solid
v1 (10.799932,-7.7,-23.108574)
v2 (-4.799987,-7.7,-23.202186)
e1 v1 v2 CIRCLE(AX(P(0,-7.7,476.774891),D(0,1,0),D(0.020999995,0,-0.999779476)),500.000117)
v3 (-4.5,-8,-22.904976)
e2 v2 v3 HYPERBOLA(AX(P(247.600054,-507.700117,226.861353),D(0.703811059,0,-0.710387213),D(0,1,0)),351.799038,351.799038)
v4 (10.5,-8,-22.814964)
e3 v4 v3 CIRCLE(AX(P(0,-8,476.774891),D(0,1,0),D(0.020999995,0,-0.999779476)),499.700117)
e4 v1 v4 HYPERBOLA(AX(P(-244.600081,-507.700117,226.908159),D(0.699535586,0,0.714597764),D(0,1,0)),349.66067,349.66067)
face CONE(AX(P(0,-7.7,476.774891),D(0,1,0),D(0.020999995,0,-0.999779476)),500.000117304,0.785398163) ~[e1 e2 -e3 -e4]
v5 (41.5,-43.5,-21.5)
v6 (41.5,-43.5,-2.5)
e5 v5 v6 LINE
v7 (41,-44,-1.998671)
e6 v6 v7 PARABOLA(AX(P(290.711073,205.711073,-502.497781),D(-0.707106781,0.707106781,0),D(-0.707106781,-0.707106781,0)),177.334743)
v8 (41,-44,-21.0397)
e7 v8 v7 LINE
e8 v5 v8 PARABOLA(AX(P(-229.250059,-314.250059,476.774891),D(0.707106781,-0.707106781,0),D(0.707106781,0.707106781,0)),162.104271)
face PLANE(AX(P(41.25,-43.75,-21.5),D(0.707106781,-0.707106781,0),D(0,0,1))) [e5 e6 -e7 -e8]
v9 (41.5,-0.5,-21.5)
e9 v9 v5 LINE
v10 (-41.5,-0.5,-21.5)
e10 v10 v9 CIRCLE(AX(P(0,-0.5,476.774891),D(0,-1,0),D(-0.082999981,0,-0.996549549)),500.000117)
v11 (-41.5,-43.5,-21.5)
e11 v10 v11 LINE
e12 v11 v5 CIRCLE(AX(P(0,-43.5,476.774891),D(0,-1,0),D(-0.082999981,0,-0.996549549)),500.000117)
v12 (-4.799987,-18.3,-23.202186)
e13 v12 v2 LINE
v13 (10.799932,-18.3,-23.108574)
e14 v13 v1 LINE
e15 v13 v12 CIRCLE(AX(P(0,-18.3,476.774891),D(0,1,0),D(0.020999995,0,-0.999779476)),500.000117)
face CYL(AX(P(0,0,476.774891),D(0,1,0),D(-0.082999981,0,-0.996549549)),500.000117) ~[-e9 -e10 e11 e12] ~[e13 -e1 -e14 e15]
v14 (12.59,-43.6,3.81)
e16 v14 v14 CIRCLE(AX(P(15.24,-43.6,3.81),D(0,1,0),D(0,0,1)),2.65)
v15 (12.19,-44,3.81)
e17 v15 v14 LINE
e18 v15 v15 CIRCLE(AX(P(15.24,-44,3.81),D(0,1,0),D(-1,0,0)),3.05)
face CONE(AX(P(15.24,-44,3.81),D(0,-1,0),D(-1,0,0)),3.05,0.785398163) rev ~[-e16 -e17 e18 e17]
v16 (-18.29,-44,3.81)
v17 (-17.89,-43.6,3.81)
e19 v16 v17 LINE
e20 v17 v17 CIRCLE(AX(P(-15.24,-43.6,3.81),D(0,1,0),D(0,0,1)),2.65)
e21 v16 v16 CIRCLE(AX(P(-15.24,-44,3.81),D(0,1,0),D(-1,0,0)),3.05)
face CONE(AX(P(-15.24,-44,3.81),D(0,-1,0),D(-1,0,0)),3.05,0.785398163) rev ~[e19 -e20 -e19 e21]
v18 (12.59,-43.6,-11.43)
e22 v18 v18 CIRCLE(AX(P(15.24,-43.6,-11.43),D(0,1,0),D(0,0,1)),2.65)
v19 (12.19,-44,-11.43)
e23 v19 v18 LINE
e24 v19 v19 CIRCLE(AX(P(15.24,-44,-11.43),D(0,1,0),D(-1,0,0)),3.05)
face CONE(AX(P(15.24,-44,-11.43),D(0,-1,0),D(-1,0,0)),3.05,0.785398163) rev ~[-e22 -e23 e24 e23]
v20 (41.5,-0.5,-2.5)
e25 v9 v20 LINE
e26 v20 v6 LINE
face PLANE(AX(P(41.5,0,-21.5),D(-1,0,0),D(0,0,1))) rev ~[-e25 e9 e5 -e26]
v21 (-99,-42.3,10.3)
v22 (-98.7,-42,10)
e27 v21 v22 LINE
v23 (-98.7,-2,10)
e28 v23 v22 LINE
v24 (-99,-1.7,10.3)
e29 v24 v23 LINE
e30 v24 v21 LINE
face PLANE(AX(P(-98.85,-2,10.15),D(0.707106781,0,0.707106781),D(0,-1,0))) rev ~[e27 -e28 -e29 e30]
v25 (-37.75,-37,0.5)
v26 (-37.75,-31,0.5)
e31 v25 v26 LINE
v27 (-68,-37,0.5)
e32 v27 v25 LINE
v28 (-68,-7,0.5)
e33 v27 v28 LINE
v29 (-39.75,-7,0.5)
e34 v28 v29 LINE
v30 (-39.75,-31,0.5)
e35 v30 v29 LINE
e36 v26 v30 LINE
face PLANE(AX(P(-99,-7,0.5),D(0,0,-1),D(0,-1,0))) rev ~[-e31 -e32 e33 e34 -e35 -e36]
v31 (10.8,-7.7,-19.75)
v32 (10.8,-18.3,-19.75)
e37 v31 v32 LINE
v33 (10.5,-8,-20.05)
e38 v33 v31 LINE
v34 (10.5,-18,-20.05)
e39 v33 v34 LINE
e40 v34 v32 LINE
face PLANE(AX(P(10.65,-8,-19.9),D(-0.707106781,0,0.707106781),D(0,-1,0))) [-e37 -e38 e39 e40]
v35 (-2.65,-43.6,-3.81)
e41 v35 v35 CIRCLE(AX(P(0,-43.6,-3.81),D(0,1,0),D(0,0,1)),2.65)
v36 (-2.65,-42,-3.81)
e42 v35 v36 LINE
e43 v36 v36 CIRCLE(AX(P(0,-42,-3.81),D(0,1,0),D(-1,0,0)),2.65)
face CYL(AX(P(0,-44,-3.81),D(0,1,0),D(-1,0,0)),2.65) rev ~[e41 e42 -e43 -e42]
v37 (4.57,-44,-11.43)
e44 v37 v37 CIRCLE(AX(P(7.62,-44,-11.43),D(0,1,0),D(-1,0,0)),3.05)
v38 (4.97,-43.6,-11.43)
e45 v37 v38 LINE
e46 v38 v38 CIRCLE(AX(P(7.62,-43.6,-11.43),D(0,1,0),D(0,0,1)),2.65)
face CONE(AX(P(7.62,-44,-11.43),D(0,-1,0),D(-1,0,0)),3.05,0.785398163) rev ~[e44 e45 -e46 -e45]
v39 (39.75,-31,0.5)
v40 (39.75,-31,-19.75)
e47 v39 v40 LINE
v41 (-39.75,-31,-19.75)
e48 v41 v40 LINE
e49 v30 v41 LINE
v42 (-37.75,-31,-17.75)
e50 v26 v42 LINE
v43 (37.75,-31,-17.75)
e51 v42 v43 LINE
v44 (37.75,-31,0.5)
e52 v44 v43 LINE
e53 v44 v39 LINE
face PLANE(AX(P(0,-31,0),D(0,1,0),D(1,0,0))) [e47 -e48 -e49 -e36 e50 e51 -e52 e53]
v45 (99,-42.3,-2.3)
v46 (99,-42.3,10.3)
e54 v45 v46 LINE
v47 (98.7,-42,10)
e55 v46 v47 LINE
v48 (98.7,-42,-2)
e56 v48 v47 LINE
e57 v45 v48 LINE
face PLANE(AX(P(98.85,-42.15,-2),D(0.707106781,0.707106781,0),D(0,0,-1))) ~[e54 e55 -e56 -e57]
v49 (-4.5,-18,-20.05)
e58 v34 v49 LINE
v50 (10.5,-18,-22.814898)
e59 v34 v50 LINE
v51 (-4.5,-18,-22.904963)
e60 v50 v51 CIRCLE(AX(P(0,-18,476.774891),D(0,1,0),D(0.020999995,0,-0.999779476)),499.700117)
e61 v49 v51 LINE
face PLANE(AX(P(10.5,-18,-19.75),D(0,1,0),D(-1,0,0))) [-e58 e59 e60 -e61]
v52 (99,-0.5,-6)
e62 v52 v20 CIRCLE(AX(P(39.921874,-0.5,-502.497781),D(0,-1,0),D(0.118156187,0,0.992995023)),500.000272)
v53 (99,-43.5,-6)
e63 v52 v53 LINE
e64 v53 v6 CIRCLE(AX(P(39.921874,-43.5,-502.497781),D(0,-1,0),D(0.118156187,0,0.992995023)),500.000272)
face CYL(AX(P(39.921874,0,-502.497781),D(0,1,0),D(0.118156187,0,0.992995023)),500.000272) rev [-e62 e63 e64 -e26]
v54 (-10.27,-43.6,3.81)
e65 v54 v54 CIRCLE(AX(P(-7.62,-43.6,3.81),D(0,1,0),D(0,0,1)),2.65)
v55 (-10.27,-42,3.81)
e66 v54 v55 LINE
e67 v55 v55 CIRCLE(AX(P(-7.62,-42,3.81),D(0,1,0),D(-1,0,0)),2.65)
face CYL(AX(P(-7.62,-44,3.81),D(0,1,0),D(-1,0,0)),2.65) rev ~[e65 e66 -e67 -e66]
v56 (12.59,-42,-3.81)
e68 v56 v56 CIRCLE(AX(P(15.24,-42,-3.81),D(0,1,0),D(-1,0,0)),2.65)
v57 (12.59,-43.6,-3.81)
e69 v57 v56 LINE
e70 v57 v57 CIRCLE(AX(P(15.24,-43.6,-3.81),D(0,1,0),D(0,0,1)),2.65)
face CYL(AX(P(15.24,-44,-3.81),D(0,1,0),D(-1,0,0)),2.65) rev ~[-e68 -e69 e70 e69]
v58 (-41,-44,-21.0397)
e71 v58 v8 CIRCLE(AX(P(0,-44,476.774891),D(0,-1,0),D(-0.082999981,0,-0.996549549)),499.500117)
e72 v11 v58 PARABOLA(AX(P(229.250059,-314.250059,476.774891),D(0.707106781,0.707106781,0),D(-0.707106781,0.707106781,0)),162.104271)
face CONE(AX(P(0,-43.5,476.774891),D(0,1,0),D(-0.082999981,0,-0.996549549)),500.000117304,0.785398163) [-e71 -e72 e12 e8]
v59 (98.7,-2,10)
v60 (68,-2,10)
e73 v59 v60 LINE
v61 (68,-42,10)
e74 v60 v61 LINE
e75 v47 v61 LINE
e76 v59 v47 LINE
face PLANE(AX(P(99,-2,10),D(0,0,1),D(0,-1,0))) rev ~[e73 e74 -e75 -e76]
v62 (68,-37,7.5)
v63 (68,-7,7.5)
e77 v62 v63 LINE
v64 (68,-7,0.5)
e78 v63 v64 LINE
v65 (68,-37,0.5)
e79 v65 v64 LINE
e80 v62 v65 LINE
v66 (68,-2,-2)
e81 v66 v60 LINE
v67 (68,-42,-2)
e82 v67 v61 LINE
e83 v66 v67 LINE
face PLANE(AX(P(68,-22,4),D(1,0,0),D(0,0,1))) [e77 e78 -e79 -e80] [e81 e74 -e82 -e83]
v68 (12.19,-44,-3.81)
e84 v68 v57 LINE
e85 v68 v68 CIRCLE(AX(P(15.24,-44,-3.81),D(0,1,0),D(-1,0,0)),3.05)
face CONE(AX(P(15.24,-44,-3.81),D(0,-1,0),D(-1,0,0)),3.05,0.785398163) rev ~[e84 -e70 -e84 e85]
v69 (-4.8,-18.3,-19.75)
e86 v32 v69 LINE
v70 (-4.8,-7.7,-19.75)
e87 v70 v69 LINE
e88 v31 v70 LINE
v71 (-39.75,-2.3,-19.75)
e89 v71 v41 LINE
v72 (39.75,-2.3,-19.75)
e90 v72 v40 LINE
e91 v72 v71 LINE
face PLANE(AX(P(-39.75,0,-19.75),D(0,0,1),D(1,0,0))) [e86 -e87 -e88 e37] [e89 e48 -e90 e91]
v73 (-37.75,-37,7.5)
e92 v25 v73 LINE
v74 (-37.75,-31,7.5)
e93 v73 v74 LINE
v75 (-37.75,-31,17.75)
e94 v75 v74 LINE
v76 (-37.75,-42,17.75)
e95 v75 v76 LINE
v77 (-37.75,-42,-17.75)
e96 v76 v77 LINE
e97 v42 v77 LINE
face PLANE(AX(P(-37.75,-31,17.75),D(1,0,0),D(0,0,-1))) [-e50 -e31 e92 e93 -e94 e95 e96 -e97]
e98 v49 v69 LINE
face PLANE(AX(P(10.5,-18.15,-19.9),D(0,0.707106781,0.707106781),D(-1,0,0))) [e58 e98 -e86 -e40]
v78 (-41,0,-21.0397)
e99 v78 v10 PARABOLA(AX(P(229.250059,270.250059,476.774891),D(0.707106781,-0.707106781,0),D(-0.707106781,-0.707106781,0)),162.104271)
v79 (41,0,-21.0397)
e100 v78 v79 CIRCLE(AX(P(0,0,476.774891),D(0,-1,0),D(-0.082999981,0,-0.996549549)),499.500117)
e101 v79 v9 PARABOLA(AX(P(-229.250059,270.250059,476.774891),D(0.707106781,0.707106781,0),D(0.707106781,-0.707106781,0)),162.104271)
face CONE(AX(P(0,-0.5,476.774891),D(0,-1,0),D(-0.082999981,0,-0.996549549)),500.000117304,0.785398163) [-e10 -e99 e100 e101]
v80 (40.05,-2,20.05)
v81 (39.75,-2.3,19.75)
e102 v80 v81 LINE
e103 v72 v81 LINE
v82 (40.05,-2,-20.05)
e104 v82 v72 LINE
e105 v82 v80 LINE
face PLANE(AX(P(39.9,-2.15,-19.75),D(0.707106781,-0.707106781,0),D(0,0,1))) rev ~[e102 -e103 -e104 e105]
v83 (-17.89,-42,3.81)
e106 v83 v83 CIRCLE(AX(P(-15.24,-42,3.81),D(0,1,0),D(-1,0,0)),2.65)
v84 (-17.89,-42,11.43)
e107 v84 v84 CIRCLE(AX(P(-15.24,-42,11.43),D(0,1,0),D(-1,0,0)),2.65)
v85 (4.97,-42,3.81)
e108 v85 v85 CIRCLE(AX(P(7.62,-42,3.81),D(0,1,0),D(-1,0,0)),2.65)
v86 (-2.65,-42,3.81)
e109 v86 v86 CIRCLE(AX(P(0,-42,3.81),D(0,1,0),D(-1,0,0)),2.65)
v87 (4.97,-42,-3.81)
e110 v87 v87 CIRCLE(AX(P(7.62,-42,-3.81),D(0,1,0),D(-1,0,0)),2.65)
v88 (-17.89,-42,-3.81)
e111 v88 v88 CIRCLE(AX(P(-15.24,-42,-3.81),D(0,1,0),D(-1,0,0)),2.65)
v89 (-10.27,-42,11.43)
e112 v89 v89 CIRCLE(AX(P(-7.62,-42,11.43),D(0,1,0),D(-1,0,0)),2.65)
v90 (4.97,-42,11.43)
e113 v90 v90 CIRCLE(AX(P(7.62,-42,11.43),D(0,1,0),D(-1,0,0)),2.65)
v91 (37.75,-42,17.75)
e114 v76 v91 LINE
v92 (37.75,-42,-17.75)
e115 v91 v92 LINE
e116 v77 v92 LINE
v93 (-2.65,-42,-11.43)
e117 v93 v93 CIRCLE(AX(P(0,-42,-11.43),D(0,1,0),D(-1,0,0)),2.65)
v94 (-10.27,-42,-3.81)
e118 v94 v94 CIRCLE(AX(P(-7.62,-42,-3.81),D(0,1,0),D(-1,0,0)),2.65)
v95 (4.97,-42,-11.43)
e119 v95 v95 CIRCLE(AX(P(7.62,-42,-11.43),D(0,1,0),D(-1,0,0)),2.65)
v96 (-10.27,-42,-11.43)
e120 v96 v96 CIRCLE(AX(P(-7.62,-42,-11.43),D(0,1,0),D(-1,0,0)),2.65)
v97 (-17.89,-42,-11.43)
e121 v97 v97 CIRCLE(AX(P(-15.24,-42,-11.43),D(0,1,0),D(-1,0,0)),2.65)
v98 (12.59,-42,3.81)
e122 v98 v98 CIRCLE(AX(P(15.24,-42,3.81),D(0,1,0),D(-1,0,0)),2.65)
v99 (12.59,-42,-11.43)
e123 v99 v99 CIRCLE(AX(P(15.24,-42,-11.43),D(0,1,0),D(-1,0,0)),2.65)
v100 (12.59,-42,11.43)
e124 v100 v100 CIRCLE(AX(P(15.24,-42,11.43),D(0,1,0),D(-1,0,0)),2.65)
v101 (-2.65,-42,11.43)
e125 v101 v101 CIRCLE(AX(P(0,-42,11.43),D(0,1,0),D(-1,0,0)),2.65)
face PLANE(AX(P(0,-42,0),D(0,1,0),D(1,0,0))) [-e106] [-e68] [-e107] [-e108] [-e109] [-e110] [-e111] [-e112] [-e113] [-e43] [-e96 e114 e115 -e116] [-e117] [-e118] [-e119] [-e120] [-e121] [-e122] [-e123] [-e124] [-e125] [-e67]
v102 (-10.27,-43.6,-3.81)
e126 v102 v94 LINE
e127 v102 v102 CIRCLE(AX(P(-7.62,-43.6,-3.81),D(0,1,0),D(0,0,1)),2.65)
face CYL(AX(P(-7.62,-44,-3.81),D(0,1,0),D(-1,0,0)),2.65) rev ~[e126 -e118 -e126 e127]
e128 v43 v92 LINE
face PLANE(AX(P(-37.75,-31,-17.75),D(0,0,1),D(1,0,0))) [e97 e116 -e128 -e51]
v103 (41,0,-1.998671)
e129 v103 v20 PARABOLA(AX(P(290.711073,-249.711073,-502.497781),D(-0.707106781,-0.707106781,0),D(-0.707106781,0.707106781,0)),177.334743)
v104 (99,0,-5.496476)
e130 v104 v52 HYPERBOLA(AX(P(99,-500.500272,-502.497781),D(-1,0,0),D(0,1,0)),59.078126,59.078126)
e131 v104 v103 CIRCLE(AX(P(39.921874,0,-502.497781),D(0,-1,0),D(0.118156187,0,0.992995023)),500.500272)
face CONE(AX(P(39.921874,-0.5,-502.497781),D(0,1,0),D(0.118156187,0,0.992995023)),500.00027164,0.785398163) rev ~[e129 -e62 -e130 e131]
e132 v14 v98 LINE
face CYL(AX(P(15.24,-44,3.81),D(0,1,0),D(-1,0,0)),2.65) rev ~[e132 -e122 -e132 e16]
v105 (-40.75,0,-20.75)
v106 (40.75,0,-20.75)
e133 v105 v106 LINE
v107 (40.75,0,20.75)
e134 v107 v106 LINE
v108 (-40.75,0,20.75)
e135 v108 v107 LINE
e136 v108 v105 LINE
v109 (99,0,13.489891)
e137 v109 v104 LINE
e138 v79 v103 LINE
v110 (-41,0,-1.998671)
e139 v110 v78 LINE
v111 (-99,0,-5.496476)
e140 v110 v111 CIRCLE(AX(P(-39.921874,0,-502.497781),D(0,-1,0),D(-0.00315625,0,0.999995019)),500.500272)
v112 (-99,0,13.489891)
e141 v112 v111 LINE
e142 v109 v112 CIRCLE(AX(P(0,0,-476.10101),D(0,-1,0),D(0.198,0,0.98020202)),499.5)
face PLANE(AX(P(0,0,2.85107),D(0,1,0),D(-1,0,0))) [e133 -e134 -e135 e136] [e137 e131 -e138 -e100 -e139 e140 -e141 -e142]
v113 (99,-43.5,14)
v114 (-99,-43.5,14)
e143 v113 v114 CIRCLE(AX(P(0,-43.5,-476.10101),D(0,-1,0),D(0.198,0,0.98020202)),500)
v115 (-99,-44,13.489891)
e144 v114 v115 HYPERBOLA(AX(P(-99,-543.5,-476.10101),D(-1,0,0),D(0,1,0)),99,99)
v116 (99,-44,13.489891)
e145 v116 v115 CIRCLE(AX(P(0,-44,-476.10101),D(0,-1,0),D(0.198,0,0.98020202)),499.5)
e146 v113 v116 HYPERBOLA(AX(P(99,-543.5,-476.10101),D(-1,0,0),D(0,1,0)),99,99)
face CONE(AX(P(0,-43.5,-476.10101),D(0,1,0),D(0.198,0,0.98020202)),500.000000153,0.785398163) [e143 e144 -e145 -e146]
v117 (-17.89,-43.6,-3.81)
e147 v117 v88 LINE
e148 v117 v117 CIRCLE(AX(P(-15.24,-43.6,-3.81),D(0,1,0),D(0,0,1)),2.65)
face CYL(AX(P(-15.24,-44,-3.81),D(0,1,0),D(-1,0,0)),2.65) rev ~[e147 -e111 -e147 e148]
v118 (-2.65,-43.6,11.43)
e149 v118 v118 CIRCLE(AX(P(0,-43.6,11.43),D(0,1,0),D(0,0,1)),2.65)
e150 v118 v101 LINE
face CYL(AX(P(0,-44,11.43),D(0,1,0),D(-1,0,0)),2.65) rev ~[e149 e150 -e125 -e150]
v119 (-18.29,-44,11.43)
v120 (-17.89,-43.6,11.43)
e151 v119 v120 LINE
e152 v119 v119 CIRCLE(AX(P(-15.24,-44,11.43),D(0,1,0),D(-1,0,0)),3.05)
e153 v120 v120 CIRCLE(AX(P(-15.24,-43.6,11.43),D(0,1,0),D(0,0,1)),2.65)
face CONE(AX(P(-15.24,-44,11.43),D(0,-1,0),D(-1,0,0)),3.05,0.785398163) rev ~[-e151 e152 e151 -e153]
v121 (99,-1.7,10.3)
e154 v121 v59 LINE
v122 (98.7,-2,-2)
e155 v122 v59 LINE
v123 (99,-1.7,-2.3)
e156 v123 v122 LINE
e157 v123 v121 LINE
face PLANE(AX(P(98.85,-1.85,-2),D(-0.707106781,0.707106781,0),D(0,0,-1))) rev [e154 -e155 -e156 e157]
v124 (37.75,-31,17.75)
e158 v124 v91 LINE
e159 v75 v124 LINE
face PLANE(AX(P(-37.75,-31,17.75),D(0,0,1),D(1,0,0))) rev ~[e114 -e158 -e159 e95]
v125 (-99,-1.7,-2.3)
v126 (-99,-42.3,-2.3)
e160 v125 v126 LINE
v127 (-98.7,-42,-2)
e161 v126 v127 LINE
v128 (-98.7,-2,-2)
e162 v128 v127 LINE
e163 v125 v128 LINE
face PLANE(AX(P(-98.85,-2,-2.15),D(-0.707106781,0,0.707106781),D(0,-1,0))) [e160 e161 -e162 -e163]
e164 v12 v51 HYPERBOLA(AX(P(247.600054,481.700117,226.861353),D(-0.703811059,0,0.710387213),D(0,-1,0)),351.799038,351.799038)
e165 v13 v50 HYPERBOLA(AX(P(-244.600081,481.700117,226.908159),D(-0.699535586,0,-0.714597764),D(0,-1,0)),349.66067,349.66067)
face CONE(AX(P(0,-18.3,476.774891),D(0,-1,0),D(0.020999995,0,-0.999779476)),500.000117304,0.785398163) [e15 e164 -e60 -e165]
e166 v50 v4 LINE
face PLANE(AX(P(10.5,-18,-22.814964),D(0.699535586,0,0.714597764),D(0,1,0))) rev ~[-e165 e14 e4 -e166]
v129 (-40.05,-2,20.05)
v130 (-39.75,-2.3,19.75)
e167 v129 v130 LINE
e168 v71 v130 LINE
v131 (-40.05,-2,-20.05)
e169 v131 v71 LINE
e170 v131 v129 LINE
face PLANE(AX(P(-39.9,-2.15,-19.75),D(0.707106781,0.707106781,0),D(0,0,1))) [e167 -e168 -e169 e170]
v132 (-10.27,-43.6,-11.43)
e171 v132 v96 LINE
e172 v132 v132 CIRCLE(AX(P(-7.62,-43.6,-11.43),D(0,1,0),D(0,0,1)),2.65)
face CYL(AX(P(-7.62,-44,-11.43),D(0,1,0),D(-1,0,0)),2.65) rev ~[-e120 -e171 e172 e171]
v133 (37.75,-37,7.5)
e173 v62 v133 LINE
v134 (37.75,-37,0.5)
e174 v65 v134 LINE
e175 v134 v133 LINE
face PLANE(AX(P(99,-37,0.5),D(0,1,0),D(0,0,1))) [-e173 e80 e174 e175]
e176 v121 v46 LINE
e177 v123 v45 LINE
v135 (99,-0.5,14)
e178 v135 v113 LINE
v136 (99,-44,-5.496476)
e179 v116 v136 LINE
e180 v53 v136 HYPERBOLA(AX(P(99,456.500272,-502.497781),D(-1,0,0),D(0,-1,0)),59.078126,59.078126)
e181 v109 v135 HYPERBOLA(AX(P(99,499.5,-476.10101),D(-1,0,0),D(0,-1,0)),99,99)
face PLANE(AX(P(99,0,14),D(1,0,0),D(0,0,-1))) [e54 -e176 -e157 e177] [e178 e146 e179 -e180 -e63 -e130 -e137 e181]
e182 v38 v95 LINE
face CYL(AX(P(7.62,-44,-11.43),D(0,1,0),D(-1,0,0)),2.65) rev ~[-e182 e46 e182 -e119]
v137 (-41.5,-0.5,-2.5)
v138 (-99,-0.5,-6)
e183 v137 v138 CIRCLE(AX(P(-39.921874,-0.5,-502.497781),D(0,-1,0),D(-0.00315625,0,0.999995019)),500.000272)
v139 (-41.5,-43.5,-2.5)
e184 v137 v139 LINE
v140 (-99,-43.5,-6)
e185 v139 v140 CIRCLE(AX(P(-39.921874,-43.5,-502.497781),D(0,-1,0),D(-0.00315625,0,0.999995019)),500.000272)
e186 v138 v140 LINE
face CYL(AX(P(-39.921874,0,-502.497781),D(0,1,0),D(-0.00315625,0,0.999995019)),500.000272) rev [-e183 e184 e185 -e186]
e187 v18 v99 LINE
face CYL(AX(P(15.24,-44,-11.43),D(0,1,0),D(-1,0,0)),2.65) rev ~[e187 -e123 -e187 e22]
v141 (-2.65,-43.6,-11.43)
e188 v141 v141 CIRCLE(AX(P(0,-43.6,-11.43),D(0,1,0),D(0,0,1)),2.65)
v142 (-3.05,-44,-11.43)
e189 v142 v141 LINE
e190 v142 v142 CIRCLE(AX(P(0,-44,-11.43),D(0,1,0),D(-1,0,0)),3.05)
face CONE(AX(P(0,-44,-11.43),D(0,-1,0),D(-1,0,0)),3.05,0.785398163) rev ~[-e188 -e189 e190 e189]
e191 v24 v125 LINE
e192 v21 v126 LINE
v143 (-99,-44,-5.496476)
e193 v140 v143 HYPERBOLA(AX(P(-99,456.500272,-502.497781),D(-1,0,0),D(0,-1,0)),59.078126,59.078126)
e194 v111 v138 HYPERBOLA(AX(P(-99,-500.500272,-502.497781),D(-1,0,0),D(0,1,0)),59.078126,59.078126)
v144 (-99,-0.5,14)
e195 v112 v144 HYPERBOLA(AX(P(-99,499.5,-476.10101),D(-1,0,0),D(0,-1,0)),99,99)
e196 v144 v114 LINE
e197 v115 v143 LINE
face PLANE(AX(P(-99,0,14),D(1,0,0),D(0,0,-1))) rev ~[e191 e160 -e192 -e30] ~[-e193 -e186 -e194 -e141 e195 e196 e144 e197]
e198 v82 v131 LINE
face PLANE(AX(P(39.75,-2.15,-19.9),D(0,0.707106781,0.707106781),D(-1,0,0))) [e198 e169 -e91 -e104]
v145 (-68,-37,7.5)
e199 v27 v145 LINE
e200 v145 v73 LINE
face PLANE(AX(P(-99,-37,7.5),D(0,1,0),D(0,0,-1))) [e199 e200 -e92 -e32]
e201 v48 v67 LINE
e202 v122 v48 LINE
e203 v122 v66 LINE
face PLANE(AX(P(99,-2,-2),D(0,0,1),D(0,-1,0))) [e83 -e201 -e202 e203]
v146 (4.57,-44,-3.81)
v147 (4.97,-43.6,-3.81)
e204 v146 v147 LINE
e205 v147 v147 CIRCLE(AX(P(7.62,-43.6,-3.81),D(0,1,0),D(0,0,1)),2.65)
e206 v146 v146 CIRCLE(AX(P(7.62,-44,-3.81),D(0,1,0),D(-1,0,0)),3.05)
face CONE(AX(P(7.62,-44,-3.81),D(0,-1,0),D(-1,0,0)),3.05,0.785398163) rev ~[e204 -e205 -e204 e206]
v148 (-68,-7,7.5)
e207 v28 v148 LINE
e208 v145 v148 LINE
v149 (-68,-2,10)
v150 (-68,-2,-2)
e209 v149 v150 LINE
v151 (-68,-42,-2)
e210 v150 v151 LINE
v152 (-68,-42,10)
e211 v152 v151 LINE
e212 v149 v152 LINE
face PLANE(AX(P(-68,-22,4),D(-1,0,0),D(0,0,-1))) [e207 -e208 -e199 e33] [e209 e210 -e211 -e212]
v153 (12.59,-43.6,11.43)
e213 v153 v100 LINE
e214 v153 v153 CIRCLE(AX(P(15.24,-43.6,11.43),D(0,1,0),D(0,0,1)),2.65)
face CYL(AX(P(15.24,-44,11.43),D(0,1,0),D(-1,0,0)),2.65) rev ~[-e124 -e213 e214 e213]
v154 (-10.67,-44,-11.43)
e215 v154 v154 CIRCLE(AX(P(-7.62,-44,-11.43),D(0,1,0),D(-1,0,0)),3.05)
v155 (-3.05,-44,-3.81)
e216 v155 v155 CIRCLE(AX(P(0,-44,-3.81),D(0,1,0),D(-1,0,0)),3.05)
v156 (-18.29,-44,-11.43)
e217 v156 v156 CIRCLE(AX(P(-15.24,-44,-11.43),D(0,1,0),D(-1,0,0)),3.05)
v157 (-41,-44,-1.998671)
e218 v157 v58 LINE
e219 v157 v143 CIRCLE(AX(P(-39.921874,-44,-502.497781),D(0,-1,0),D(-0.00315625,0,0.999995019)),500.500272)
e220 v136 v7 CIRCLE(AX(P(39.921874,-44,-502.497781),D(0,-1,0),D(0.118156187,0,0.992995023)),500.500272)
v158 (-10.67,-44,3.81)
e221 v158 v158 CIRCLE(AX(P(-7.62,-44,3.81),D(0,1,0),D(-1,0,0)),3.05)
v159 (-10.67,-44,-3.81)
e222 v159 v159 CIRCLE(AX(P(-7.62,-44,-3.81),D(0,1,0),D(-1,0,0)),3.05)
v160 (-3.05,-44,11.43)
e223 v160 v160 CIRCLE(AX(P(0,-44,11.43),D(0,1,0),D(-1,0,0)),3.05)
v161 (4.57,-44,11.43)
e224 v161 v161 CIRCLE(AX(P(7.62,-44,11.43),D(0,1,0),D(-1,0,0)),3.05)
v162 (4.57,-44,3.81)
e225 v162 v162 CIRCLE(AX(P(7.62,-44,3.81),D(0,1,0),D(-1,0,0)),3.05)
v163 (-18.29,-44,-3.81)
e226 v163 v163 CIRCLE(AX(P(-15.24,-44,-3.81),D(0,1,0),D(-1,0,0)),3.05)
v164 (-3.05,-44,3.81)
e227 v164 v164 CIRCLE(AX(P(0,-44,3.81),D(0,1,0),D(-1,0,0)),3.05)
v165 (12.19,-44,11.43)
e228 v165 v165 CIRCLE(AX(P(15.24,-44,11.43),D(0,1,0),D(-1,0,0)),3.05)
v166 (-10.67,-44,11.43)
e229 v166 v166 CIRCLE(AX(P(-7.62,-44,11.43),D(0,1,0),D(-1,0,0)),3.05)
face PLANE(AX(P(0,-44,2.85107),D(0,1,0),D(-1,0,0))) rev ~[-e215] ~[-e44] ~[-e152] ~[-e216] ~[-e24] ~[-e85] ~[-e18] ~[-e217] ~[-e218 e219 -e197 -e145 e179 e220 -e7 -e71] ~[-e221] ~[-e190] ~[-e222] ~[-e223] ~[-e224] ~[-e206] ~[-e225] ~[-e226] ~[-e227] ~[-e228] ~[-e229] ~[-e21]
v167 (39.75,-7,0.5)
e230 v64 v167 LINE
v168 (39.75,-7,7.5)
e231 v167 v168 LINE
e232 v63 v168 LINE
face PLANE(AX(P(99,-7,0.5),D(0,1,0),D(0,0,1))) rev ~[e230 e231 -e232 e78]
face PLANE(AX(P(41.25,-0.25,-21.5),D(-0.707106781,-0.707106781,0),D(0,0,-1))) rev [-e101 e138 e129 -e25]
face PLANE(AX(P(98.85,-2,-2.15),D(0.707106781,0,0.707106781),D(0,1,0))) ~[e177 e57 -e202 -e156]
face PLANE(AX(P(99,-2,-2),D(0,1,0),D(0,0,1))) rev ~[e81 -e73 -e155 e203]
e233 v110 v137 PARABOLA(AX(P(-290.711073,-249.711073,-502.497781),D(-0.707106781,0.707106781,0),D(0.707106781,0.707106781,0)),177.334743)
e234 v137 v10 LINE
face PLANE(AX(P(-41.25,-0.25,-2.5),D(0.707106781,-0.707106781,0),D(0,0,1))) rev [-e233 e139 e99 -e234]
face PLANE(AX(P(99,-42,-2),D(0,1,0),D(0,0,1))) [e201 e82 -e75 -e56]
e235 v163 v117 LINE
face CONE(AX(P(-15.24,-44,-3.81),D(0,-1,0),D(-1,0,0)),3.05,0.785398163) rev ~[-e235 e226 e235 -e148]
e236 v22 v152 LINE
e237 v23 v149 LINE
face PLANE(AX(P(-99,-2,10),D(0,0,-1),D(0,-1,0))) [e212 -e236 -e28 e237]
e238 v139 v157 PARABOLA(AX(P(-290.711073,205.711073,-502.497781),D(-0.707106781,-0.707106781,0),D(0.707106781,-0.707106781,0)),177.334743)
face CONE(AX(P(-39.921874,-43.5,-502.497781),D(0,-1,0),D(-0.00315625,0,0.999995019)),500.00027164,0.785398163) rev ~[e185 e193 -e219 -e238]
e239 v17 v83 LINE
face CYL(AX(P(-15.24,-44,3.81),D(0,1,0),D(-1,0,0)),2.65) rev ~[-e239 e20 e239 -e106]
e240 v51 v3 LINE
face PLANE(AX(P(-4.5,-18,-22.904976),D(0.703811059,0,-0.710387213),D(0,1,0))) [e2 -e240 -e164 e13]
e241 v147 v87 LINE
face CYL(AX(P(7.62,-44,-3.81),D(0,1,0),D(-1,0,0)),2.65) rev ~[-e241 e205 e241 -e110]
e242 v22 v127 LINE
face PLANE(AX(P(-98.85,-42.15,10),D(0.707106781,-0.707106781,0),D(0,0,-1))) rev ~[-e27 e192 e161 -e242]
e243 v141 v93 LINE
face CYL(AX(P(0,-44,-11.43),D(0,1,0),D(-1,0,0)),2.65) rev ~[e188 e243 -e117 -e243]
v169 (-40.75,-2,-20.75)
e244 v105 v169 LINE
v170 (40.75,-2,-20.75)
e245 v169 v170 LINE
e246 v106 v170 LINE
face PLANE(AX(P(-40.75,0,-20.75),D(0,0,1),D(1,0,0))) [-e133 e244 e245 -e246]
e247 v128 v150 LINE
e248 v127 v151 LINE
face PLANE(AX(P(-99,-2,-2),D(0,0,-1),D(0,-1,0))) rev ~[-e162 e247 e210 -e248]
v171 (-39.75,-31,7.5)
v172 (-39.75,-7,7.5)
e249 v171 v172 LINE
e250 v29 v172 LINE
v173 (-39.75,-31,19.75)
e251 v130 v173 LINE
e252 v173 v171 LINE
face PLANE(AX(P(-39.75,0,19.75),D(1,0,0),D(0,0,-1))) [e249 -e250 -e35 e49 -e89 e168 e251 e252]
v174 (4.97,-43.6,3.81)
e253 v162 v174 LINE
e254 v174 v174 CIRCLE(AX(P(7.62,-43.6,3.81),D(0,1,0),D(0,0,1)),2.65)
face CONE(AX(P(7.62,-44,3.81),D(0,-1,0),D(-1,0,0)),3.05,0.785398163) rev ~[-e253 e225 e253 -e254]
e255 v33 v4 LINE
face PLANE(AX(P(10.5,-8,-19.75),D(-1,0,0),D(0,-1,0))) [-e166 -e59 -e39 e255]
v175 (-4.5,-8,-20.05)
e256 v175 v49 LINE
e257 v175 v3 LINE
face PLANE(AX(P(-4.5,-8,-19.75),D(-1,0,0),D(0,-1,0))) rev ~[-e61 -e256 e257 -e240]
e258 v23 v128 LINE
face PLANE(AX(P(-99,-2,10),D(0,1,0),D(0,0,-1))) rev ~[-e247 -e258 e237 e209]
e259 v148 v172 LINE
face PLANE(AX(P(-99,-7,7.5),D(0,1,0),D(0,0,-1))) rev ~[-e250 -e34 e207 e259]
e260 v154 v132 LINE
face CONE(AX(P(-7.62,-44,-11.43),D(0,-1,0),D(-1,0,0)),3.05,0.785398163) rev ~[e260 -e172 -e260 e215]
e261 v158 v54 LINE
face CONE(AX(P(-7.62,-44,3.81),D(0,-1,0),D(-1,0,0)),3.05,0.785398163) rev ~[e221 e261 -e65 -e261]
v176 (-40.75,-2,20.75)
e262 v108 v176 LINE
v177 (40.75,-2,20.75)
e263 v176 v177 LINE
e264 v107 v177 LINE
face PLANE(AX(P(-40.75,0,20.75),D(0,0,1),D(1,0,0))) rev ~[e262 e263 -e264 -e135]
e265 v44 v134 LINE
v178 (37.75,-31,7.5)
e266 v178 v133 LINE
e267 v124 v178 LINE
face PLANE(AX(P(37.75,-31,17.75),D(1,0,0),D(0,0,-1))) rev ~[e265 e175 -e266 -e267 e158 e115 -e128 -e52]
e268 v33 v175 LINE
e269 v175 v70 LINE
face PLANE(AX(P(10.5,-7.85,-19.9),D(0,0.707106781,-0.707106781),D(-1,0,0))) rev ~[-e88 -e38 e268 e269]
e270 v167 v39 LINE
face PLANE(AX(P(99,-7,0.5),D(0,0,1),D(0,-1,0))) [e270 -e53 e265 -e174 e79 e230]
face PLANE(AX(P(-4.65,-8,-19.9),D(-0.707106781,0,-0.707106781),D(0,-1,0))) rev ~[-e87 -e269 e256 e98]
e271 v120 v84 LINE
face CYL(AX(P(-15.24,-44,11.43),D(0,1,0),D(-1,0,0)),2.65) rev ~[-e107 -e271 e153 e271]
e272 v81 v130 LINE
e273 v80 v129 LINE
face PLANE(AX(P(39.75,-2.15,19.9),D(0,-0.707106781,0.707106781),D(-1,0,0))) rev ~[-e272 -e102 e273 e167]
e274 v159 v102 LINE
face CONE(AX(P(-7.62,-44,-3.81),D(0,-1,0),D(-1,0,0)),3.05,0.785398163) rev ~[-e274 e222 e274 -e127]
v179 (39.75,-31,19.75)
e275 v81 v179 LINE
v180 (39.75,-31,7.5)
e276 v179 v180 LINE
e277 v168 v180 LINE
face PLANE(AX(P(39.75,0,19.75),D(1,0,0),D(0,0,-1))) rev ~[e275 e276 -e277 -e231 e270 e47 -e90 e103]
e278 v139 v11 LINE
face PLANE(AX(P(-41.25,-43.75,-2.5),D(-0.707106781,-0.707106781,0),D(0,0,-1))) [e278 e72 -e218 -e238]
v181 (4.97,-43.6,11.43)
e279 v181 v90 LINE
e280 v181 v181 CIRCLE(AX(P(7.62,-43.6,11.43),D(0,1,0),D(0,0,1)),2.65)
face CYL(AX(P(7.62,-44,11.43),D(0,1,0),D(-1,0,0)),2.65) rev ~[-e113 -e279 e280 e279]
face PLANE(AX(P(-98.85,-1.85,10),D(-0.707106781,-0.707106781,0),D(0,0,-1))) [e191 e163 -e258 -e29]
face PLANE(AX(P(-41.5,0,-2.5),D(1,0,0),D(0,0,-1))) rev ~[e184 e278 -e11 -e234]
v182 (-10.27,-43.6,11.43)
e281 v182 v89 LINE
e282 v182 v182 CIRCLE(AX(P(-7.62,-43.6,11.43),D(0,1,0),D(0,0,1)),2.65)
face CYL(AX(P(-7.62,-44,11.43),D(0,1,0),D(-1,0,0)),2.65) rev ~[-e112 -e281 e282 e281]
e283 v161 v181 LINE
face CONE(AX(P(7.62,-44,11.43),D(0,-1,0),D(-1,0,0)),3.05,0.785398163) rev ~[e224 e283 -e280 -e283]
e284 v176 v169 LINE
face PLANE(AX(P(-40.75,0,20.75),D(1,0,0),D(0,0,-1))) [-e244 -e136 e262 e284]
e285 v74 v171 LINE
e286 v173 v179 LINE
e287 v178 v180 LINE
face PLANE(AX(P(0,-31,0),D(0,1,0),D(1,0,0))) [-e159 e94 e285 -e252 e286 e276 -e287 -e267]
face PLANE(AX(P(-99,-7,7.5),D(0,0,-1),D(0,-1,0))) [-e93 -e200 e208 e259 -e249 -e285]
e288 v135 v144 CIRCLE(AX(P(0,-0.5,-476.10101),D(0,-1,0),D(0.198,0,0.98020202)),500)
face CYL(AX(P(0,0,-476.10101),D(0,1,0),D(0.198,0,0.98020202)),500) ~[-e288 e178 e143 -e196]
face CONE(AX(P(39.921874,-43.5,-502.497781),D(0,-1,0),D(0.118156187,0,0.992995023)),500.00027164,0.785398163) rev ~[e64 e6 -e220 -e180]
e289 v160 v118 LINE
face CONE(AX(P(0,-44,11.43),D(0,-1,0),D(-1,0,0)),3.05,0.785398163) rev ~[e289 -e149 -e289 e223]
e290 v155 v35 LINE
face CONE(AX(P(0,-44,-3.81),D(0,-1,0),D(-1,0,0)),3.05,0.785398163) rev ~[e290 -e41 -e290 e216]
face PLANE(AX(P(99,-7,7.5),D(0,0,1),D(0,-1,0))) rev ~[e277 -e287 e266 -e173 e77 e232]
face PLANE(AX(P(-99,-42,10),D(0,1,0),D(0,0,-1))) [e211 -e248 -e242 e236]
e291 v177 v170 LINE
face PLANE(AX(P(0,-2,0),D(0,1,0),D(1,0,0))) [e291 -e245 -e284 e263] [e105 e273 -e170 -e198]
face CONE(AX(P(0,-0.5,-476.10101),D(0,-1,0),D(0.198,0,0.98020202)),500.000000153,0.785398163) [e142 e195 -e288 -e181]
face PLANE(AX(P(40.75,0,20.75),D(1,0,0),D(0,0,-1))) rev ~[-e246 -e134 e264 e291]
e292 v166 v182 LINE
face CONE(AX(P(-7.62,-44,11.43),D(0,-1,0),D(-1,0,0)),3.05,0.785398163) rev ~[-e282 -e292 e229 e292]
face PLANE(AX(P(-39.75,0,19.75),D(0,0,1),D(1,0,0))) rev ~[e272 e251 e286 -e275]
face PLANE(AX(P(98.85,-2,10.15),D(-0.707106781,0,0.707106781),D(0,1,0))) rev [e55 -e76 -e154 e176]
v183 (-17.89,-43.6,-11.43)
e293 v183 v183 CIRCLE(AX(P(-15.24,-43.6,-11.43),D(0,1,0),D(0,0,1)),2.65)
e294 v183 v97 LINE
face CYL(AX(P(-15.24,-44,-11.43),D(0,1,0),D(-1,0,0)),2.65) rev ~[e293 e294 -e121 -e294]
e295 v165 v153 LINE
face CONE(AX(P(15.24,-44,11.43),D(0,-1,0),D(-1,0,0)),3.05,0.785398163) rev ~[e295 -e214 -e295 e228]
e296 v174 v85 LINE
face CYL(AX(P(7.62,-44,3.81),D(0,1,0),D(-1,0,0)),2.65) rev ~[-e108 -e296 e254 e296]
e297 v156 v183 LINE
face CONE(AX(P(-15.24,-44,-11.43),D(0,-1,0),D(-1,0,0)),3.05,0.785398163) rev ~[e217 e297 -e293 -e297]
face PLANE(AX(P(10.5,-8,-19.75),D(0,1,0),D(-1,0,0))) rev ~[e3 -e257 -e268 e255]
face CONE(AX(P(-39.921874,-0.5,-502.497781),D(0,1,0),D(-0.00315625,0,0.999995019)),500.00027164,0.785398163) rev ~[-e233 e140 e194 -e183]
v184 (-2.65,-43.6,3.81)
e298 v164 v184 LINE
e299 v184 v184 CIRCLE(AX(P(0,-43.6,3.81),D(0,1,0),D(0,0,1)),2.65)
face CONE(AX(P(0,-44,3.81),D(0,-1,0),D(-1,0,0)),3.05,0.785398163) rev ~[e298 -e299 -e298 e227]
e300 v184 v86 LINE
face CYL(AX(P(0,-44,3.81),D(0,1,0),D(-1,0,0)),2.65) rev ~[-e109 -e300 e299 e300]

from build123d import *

# Parameters (mm, degrees)
PAD_DEPTH        = 44
SKETCH001_W      = 79.5
SKETCH001_H      = 39.5
POCKET_DEPTH     = 42
SKETCH003_W      = 79.5
SKETCH003_H      = 39.5
PAD001_DEPTH     = 11
SKETCH004_W      = 75.5
SKETCH004_H      = 35.5
POCKET001_DEPTH  = 11
HOLE_D           = 5.3
HOLE_DEPTH       = 25
HOLE_CSINK_D     = 6.1
HOLE_CSINK_ANGLE = 90
HOLE_TIPS_R      = 2.65
SKETCH056_W      = 7
SKETCH056_H      = 30
POCKET017_DEPTH  = 61.3
SKETCH054_W      = 7
SKETCH054_H      = 30
POCKET019_DEPTH  = 61.3
SKETCH057_W      = 12
SKETCH057_H      = 40
POCKET018_DEPTH  = 31
SKETCH055_W      = 12
SKETCH055_H      = 40
POCKET020_DEPTH  = 31
SKETCH005_W      = 15
SKETCH005_H      = 10
POCKET002_DEPTH  = 5
SKETCH058_W      = 81.5
SKETCH058_H      = 41.5
POCKET021_DEPTH  = 2
CHAMFER_SIZE     = 0.5
CHAMFER030_SIZE  = 0.3
CHAMFER031_SIZE  = 0.3


with BuildPart() as part:
    # Sketch → Pad (new body)
    with BuildSketch(Plane.XZ):
        with BuildLine():
            Line((99, 14), (99, -6))
            ThreePointArc((99, -6), (70.300448, -3.42122), (41.5, -2.5))
            Line((41.5, -21.5), (41.5, -2.5))
            ThreePointArc((-41.5, -21.5), (0, -23.225226), (41.5, -21.5))
            Line((-41.5, -2.5), (-41.5, -21.5))
            ThreePointArc((-41.5, -2.5), (-70.300448, -3.42122), (-99, -6))
            Line((-99, 14), (-99, -6))
            ThreePointArc((99, 14), (0, 23.89899), (-99, 14))
        make_face()
    extrude(amount=PAD_DEPTH)

    # Sketch001 (on DatumPlane) → Pocket (cut)
    with BuildSketch(Plane(origin=(0, 0, 0), x_dir=(1, 0, 0), z_dir=(0, 1, 0))):
        Rectangle(SKETCH001_W, SKETCH001_H)
    extrude(amount=-POCKET_DEPTH, mode=Mode.SUBTRACT)

    # Sketch003 → Pad001 (join)
    with BuildSketch(Plane(origin=(0, -42, 0), x_dir=(1, 0, 0), z_dir=(0, 1, 0))):
        Rectangle(SKETCH003_W, SKETCH003_H)
    extrude(amount=PAD001_DEPTH)

    # Sketch004 (on Face15 of Pad001) → Pocket001 (cut)
    with BuildSketch(Plane(origin=(0, -31, 0), x_dir=(1, 0, 0), z_dir=(0, 1, 0))):
        Rectangle(SKETCH004_W, SKETCH004_H)
    extrude(amount=-POCKET001_DEPTH, mode=Mode.SUBTRACT)

    # Hole
    with Locations(Plane.XZ.offset(44)):
        with Locations((-15.24, 11.43), (-7.62, 11.43), (0, 11.43), (7.62, 11.43), (15.24, 11.43), (-15.24, 3.81), (-7.62, 3.81), (0, 3.81), (7.62, 3.81), (15.24, 3.81), (-15.24, -3.81), (-7.62, -3.81), (0, -3.81), (7.62, -3.81), (15.24, -3.81), (-15.24, -11.43), (-7.62, -11.43), (0, -11.43), (7.62, -11.43), (15.24, -11.43)):
            CounterSinkHole(HOLE_D / 2, HOLE_CSINK_D / 2, depth=HOLE_DEPTH, counter_sink_angle=HOLE_CSINK_ANGLE)

    # Hole tips → Hole tip 1 section 0
    with BuildSketch(Plane.XZ.offset(19), mode=Mode.PRIVATE) as hole_tip_1_s0:
        with Locations((-15.24, 11.43)):
            Circle(HOLE_TIPS_R)
    loft([hole_tip_1_s0.sketch, Vertex(-15.24, -17.407719, 11.43)], mode=Mode.SUBTRACT)

    # Hole tips → Hole tip 2 section 0
    with BuildSketch(Plane.XZ.offset(19), mode=Mode.PRIVATE) as hole_tip_2_s0:
        with Locations((-7.62, 11.43)):
            Circle(HOLE_TIPS_R)
    loft([hole_tip_2_s0.sketch, Vertex(-7.62, -17.407719, 11.43)], mode=Mode.SUBTRACT)

    # Hole tips → Hole tip 3 section 0
    with BuildSketch(Plane.XZ.offset(19), mode=Mode.PRIVATE) as hole_tip_3_s0:
        with Locations((0, 11.43)):
            Circle(HOLE_TIPS_R)
    loft([hole_tip_3_s0.sketch, Vertex(0, -17.407719, 11.43)], mode=Mode.SUBTRACT)

    # Hole tips → Hole tip 4 section 0
    with BuildSketch(Plane.XZ.offset(19), mode=Mode.PRIVATE) as hole_tip_4_s0:
        with Locations((7.62, 11.43)):
            Circle(HOLE_TIPS_R)
    loft([hole_tip_4_s0.sketch, Vertex(7.62, -17.407719, 11.43)], mode=Mode.SUBTRACT)

    # Hole tips → Hole tip 5 section 0
    with BuildSketch(Plane.XZ.offset(19), mode=Mode.PRIVATE) as hole_tip_5_s0:
        with Locations((15.24, 11.43)):
            Circle(HOLE_TIPS_R)
    loft([hole_tip_5_s0.sketch, Vertex(15.24, -17.407719, 11.43)], mode=Mode.SUBTRACT)

    # Hole tips → Hole tip 6 section 0
    with BuildSketch(Plane.XZ.offset(19), mode=Mode.PRIVATE) as hole_tip_6_s0:
        with Locations((-15.24, 3.81)):
            Circle(HOLE_TIPS_R)
    loft([hole_tip_6_s0.sketch, Vertex(-15.24, -17.407719, 3.81)], mode=Mode.SUBTRACT)

    # Hole tips → Hole tip 7 section 0
    with BuildSketch(Plane.XZ.offset(19), mode=Mode.PRIVATE) as hole_tip_7_s0:
        with Locations((-7.62, 3.81)):
            Circle(HOLE_TIPS_R)
    loft([hole_tip_7_s0.sketch, Vertex(-7.62, -17.407719, 3.81)], mode=Mode.SUBTRACT)

    # Hole tips → Hole tip 8 section 0
    with BuildSketch(Plane.XZ.offset(19), mode=Mode.PRIVATE) as hole_tip_8_s0:
        with Locations((0, 3.81)):
            Circle(HOLE_TIPS_R)
    loft([hole_tip_8_s0.sketch, Vertex(0, -17.407719, 3.81)], mode=Mode.SUBTRACT)

    # Hole tips → Hole tip 9 section 0
    with BuildSketch(Plane.XZ.offset(19), mode=Mode.PRIVATE) as hole_tip_9_s0:
        with Locations((7.62, 3.81)):
            Circle(HOLE_TIPS_R)
    loft([hole_tip_9_s0.sketch, Vertex(7.62, -17.407719, 3.81)], mode=Mode.SUBTRACT)

    # Hole tips → Hole tip 10 section 0
    with BuildSketch(Plane.XZ.offset(19), mode=Mode.PRIVATE) as hole_tip_10_s0:
        with Locations((15.24, 3.81)):
            Circle(HOLE_TIPS_R)
    loft([hole_tip_10_s0.sketch, Vertex(15.24, -17.407719, 3.81)], mode=Mode.SUBTRACT)

    # Hole tips → Hole tip 11 section 0
    with BuildSketch(Plane.XZ.offset(19), mode=Mode.PRIVATE) as hole_tip_11_s0:
        with Locations((-15.24, -3.81)):
            Circle(HOLE_TIPS_R)
    loft([hole_tip_11_s0.sketch, Vertex(-15.24, -17.407719, -3.81)], mode=Mode.SUBTRACT)

    # Hole tips → Hole tip 12 section 0
    with BuildSketch(Plane.XZ.offset(19), mode=Mode.PRIVATE) as hole_tip_12_s0:
        with Locations((-7.62, -3.81)):
            Circle(HOLE_TIPS_R)
    loft([hole_tip_12_s0.sketch, Vertex(-7.62, -17.407719, -3.81)], mode=Mode.SUBTRACT)

    # Hole tips → Hole tip 13 section 0
    with BuildSketch(Plane.XZ.offset(19), mode=Mode.PRIVATE) as hole_tip_13_s0:
        with Locations((0, -3.81)):
            Circle(HOLE_TIPS_R)
    loft([hole_tip_13_s0.sketch, Vertex(0, -17.407719, -3.81)], mode=Mode.SUBTRACT)

    # Hole tips → Hole tip 14 section 0
    with BuildSketch(Plane.XZ.offset(19), mode=Mode.PRIVATE) as hole_tip_14_s0:
        with Locations((7.62, -3.81)):
            Circle(HOLE_TIPS_R)
    loft([hole_tip_14_s0.sketch, Vertex(7.62, -17.407719, -3.81)], mode=Mode.SUBTRACT)

    # Hole tips → Hole tip 15 section 0
    with BuildSketch(Plane.XZ.offset(19), mode=Mode.PRIVATE) as hole_tip_15_s0:
        with Locations((15.24, -3.81)):
            Circle(HOLE_TIPS_R)
    loft([hole_tip_15_s0.sketch, Vertex(15.24, -17.407719, -3.81)], mode=Mode.SUBTRACT)

    # Hole tips → Hole tip 16 section 0
    with BuildSketch(Plane.XZ.offset(19), mode=Mode.PRIVATE) as hole_tip_16_s0:
        with Locations((-15.24, -11.43)):
            Circle(HOLE_TIPS_R)
    loft([hole_tip_16_s0.sketch, Vertex(-15.24, -17.407719, -11.43)], mode=Mode.SUBTRACT)

    # Hole tips → Hole tip 17 section 0
    with BuildSketch(Plane.XZ.offset(19), mode=Mode.PRIVATE) as hole_tip_17_s0:
        with Locations((-7.62, -11.43)):
            Circle(HOLE_TIPS_R)
    loft([hole_tip_17_s0.sketch, Vertex(-7.62, -17.407719, -11.43)], mode=Mode.SUBTRACT)

    # Hole tips → Hole tip 18 section 0
    with BuildSketch(Plane.XZ.offset(19), mode=Mode.PRIVATE) as hole_tip_18_s0:
        with Locations((0, -11.43)):
            Circle(HOLE_TIPS_R)
    loft([hole_tip_18_s0.sketch, Vertex(0, -17.407719, -11.43)], mode=Mode.SUBTRACT)

    # Hole tips → Hole tip 19 section 0
    with BuildSketch(Plane.XZ.offset(19), mode=Mode.PRIVATE) as hole_tip_19_s0:
        with Locations((7.62, -11.43)):
            Circle(HOLE_TIPS_R)
    loft([hole_tip_19_s0.sketch, Vertex(7.62, -17.407719, -11.43)], mode=Mode.SUBTRACT)

    # Hole tips → Hole tip 20 section 0
    with BuildSketch(Plane.XZ.offset(19), mode=Mode.PRIVATE) as hole_tip_20_s0:
        with Locations((15.24, -11.43)):
            Circle(HOLE_TIPS_R)
    loft([hole_tip_20_s0.sketch, Vertex(15.24, -17.407719, -11.43)], mode=Mode.SUBTRACT)

    # Sketch056 → Pocket017 (cut)
    with BuildSketch(Plane(origin=(99, 0, 0), x_dir=(0, 0, 1), z_dir=(1, 0, 0))):
        with Locations((4, 22)):
            Rectangle(SKETCH056_W, SKETCH056_H)
    extrude(amount=-POCKET017_DEPTH, mode=Mode.SUBTRACT)

    # Sketch054 (on Face3 of Pocket) → Pocket019 (cut)
    with BuildSketch(Plane(origin=(-99, 0, 0), x_dir=(0, 0, -1), z_dir=(-1, 0, 0))):
        with Locations((-4, 22)):
            Rectangle(SKETCH054_W, SKETCH054_H)
    extrude(amount=-POCKET019_DEPTH, mode=Mode.SUBTRACT)

    # Sketch057 (on Face2 of Pocket017) → Pocket018 (cut)
    with BuildSketch(Plane(origin=(99, 0, 0), x_dir=(0, 0, 1), z_dir=(1, 0, 0))):
        with Locations((4, 22)):
            Rectangle(SKETCH057_W, SKETCH057_H)
    extrude(amount=-POCKET018_DEPTH, mode=Mode.SUBTRACT)

    # Sketch055 → Pocket020 (cut)
    with BuildSketch(Plane(origin=(-99, 0, 0), x_dir=(0, 0, -1), z_dir=(-1, 0, 0))):
        with Locations((-4, 22)):
            Rectangle(SKETCH055_W, SKETCH055_H)
    extrude(amount=-POCKET020_DEPTH, mode=Mode.SUBTRACT)

    # Sketch005 → Pocket002 (cut)
    with BuildSketch(Plane(origin=(0, 0, -19.75), x_dir=(-1, 0, 0), z_dir=(0, 0, 1))):
        with Locations((-3, 13)):
            Rectangle(SKETCH005_W, SKETCH005_H)
    extrude(amount=-POCKET002_DEPTH, mode=Mode.SUBTRACT)

    # Sketch058 (on Face4 of Pocket002) → Pocket021 (cut)
    with BuildSketch(Plane(origin=(0, 0, 0), x_dir=(1, 0, 0), z_dir=(0, 1, 0))):
        Rectangle(SKETCH058_W, SKETCH058_H)
    extrude(amount=-POCKET021_DEPTH, mode=Mode.SUBTRACT)

    # Chamfer
    chamfer_edges = [part.edges().sort_by_distance(p)[0] for p in [
        (70.300448, 0, -3.42122),
        (41.5, 0, -12),
        (0, 0, -23.225226),
        (-41.5, 0, -12),
        (-70.300448, 0, -3.42122),
        (0, 0, 23.89899),
        (0, -44, 23.89899),
        (-70.300448, -44, -3.42122),
        (70.300448, -44, -3.42122),
        (0, -44, -23.225226),
        (41.5, -44, -12),
        (-41.5, -44, -12),
    ]]
    chamfer(chamfer_edges, length=CHAMFER_SIZE)

    # Chamfer030
    chamfer030_edges = [part.edges().sort_by_distance(p)[0] for p in [
        (-99, -22, 10),
        (-99, -2, 4),
        (-99, -22, -2),
        (-99, -42, 4),
        (99, -22, 10),
        (99, -42, 4),
        (99, -22, -2),
        (99, -2, 4),
        (0, -2, 19.75),
        (-39.75, -2, 0),
        (0, -2, -19.75),
        (39.75, -2, 0),
    ]]
    chamfer(chamfer030_edges, length=CHAMFER030_SIZE)

    # Chamfer031
    chamfer031_edges = [part.edges().sort_by_distance(p)[0] for p in [
        (3, -18, -19.75),
        (10.5, -13, -19.75),
        (3, -8, -19.75),
        (-4.5, -13, -19.75),
        (3.000338, -18, -23.216224),
        (10.5, -13, -23.114964),
        (-4.5, -13, -23.204976),
        (3.000338, -8, -23.216224),
    ]]
    chamfer(chamfer031_edges, length=CHAMFER031_SIZE)


solid = part.part
